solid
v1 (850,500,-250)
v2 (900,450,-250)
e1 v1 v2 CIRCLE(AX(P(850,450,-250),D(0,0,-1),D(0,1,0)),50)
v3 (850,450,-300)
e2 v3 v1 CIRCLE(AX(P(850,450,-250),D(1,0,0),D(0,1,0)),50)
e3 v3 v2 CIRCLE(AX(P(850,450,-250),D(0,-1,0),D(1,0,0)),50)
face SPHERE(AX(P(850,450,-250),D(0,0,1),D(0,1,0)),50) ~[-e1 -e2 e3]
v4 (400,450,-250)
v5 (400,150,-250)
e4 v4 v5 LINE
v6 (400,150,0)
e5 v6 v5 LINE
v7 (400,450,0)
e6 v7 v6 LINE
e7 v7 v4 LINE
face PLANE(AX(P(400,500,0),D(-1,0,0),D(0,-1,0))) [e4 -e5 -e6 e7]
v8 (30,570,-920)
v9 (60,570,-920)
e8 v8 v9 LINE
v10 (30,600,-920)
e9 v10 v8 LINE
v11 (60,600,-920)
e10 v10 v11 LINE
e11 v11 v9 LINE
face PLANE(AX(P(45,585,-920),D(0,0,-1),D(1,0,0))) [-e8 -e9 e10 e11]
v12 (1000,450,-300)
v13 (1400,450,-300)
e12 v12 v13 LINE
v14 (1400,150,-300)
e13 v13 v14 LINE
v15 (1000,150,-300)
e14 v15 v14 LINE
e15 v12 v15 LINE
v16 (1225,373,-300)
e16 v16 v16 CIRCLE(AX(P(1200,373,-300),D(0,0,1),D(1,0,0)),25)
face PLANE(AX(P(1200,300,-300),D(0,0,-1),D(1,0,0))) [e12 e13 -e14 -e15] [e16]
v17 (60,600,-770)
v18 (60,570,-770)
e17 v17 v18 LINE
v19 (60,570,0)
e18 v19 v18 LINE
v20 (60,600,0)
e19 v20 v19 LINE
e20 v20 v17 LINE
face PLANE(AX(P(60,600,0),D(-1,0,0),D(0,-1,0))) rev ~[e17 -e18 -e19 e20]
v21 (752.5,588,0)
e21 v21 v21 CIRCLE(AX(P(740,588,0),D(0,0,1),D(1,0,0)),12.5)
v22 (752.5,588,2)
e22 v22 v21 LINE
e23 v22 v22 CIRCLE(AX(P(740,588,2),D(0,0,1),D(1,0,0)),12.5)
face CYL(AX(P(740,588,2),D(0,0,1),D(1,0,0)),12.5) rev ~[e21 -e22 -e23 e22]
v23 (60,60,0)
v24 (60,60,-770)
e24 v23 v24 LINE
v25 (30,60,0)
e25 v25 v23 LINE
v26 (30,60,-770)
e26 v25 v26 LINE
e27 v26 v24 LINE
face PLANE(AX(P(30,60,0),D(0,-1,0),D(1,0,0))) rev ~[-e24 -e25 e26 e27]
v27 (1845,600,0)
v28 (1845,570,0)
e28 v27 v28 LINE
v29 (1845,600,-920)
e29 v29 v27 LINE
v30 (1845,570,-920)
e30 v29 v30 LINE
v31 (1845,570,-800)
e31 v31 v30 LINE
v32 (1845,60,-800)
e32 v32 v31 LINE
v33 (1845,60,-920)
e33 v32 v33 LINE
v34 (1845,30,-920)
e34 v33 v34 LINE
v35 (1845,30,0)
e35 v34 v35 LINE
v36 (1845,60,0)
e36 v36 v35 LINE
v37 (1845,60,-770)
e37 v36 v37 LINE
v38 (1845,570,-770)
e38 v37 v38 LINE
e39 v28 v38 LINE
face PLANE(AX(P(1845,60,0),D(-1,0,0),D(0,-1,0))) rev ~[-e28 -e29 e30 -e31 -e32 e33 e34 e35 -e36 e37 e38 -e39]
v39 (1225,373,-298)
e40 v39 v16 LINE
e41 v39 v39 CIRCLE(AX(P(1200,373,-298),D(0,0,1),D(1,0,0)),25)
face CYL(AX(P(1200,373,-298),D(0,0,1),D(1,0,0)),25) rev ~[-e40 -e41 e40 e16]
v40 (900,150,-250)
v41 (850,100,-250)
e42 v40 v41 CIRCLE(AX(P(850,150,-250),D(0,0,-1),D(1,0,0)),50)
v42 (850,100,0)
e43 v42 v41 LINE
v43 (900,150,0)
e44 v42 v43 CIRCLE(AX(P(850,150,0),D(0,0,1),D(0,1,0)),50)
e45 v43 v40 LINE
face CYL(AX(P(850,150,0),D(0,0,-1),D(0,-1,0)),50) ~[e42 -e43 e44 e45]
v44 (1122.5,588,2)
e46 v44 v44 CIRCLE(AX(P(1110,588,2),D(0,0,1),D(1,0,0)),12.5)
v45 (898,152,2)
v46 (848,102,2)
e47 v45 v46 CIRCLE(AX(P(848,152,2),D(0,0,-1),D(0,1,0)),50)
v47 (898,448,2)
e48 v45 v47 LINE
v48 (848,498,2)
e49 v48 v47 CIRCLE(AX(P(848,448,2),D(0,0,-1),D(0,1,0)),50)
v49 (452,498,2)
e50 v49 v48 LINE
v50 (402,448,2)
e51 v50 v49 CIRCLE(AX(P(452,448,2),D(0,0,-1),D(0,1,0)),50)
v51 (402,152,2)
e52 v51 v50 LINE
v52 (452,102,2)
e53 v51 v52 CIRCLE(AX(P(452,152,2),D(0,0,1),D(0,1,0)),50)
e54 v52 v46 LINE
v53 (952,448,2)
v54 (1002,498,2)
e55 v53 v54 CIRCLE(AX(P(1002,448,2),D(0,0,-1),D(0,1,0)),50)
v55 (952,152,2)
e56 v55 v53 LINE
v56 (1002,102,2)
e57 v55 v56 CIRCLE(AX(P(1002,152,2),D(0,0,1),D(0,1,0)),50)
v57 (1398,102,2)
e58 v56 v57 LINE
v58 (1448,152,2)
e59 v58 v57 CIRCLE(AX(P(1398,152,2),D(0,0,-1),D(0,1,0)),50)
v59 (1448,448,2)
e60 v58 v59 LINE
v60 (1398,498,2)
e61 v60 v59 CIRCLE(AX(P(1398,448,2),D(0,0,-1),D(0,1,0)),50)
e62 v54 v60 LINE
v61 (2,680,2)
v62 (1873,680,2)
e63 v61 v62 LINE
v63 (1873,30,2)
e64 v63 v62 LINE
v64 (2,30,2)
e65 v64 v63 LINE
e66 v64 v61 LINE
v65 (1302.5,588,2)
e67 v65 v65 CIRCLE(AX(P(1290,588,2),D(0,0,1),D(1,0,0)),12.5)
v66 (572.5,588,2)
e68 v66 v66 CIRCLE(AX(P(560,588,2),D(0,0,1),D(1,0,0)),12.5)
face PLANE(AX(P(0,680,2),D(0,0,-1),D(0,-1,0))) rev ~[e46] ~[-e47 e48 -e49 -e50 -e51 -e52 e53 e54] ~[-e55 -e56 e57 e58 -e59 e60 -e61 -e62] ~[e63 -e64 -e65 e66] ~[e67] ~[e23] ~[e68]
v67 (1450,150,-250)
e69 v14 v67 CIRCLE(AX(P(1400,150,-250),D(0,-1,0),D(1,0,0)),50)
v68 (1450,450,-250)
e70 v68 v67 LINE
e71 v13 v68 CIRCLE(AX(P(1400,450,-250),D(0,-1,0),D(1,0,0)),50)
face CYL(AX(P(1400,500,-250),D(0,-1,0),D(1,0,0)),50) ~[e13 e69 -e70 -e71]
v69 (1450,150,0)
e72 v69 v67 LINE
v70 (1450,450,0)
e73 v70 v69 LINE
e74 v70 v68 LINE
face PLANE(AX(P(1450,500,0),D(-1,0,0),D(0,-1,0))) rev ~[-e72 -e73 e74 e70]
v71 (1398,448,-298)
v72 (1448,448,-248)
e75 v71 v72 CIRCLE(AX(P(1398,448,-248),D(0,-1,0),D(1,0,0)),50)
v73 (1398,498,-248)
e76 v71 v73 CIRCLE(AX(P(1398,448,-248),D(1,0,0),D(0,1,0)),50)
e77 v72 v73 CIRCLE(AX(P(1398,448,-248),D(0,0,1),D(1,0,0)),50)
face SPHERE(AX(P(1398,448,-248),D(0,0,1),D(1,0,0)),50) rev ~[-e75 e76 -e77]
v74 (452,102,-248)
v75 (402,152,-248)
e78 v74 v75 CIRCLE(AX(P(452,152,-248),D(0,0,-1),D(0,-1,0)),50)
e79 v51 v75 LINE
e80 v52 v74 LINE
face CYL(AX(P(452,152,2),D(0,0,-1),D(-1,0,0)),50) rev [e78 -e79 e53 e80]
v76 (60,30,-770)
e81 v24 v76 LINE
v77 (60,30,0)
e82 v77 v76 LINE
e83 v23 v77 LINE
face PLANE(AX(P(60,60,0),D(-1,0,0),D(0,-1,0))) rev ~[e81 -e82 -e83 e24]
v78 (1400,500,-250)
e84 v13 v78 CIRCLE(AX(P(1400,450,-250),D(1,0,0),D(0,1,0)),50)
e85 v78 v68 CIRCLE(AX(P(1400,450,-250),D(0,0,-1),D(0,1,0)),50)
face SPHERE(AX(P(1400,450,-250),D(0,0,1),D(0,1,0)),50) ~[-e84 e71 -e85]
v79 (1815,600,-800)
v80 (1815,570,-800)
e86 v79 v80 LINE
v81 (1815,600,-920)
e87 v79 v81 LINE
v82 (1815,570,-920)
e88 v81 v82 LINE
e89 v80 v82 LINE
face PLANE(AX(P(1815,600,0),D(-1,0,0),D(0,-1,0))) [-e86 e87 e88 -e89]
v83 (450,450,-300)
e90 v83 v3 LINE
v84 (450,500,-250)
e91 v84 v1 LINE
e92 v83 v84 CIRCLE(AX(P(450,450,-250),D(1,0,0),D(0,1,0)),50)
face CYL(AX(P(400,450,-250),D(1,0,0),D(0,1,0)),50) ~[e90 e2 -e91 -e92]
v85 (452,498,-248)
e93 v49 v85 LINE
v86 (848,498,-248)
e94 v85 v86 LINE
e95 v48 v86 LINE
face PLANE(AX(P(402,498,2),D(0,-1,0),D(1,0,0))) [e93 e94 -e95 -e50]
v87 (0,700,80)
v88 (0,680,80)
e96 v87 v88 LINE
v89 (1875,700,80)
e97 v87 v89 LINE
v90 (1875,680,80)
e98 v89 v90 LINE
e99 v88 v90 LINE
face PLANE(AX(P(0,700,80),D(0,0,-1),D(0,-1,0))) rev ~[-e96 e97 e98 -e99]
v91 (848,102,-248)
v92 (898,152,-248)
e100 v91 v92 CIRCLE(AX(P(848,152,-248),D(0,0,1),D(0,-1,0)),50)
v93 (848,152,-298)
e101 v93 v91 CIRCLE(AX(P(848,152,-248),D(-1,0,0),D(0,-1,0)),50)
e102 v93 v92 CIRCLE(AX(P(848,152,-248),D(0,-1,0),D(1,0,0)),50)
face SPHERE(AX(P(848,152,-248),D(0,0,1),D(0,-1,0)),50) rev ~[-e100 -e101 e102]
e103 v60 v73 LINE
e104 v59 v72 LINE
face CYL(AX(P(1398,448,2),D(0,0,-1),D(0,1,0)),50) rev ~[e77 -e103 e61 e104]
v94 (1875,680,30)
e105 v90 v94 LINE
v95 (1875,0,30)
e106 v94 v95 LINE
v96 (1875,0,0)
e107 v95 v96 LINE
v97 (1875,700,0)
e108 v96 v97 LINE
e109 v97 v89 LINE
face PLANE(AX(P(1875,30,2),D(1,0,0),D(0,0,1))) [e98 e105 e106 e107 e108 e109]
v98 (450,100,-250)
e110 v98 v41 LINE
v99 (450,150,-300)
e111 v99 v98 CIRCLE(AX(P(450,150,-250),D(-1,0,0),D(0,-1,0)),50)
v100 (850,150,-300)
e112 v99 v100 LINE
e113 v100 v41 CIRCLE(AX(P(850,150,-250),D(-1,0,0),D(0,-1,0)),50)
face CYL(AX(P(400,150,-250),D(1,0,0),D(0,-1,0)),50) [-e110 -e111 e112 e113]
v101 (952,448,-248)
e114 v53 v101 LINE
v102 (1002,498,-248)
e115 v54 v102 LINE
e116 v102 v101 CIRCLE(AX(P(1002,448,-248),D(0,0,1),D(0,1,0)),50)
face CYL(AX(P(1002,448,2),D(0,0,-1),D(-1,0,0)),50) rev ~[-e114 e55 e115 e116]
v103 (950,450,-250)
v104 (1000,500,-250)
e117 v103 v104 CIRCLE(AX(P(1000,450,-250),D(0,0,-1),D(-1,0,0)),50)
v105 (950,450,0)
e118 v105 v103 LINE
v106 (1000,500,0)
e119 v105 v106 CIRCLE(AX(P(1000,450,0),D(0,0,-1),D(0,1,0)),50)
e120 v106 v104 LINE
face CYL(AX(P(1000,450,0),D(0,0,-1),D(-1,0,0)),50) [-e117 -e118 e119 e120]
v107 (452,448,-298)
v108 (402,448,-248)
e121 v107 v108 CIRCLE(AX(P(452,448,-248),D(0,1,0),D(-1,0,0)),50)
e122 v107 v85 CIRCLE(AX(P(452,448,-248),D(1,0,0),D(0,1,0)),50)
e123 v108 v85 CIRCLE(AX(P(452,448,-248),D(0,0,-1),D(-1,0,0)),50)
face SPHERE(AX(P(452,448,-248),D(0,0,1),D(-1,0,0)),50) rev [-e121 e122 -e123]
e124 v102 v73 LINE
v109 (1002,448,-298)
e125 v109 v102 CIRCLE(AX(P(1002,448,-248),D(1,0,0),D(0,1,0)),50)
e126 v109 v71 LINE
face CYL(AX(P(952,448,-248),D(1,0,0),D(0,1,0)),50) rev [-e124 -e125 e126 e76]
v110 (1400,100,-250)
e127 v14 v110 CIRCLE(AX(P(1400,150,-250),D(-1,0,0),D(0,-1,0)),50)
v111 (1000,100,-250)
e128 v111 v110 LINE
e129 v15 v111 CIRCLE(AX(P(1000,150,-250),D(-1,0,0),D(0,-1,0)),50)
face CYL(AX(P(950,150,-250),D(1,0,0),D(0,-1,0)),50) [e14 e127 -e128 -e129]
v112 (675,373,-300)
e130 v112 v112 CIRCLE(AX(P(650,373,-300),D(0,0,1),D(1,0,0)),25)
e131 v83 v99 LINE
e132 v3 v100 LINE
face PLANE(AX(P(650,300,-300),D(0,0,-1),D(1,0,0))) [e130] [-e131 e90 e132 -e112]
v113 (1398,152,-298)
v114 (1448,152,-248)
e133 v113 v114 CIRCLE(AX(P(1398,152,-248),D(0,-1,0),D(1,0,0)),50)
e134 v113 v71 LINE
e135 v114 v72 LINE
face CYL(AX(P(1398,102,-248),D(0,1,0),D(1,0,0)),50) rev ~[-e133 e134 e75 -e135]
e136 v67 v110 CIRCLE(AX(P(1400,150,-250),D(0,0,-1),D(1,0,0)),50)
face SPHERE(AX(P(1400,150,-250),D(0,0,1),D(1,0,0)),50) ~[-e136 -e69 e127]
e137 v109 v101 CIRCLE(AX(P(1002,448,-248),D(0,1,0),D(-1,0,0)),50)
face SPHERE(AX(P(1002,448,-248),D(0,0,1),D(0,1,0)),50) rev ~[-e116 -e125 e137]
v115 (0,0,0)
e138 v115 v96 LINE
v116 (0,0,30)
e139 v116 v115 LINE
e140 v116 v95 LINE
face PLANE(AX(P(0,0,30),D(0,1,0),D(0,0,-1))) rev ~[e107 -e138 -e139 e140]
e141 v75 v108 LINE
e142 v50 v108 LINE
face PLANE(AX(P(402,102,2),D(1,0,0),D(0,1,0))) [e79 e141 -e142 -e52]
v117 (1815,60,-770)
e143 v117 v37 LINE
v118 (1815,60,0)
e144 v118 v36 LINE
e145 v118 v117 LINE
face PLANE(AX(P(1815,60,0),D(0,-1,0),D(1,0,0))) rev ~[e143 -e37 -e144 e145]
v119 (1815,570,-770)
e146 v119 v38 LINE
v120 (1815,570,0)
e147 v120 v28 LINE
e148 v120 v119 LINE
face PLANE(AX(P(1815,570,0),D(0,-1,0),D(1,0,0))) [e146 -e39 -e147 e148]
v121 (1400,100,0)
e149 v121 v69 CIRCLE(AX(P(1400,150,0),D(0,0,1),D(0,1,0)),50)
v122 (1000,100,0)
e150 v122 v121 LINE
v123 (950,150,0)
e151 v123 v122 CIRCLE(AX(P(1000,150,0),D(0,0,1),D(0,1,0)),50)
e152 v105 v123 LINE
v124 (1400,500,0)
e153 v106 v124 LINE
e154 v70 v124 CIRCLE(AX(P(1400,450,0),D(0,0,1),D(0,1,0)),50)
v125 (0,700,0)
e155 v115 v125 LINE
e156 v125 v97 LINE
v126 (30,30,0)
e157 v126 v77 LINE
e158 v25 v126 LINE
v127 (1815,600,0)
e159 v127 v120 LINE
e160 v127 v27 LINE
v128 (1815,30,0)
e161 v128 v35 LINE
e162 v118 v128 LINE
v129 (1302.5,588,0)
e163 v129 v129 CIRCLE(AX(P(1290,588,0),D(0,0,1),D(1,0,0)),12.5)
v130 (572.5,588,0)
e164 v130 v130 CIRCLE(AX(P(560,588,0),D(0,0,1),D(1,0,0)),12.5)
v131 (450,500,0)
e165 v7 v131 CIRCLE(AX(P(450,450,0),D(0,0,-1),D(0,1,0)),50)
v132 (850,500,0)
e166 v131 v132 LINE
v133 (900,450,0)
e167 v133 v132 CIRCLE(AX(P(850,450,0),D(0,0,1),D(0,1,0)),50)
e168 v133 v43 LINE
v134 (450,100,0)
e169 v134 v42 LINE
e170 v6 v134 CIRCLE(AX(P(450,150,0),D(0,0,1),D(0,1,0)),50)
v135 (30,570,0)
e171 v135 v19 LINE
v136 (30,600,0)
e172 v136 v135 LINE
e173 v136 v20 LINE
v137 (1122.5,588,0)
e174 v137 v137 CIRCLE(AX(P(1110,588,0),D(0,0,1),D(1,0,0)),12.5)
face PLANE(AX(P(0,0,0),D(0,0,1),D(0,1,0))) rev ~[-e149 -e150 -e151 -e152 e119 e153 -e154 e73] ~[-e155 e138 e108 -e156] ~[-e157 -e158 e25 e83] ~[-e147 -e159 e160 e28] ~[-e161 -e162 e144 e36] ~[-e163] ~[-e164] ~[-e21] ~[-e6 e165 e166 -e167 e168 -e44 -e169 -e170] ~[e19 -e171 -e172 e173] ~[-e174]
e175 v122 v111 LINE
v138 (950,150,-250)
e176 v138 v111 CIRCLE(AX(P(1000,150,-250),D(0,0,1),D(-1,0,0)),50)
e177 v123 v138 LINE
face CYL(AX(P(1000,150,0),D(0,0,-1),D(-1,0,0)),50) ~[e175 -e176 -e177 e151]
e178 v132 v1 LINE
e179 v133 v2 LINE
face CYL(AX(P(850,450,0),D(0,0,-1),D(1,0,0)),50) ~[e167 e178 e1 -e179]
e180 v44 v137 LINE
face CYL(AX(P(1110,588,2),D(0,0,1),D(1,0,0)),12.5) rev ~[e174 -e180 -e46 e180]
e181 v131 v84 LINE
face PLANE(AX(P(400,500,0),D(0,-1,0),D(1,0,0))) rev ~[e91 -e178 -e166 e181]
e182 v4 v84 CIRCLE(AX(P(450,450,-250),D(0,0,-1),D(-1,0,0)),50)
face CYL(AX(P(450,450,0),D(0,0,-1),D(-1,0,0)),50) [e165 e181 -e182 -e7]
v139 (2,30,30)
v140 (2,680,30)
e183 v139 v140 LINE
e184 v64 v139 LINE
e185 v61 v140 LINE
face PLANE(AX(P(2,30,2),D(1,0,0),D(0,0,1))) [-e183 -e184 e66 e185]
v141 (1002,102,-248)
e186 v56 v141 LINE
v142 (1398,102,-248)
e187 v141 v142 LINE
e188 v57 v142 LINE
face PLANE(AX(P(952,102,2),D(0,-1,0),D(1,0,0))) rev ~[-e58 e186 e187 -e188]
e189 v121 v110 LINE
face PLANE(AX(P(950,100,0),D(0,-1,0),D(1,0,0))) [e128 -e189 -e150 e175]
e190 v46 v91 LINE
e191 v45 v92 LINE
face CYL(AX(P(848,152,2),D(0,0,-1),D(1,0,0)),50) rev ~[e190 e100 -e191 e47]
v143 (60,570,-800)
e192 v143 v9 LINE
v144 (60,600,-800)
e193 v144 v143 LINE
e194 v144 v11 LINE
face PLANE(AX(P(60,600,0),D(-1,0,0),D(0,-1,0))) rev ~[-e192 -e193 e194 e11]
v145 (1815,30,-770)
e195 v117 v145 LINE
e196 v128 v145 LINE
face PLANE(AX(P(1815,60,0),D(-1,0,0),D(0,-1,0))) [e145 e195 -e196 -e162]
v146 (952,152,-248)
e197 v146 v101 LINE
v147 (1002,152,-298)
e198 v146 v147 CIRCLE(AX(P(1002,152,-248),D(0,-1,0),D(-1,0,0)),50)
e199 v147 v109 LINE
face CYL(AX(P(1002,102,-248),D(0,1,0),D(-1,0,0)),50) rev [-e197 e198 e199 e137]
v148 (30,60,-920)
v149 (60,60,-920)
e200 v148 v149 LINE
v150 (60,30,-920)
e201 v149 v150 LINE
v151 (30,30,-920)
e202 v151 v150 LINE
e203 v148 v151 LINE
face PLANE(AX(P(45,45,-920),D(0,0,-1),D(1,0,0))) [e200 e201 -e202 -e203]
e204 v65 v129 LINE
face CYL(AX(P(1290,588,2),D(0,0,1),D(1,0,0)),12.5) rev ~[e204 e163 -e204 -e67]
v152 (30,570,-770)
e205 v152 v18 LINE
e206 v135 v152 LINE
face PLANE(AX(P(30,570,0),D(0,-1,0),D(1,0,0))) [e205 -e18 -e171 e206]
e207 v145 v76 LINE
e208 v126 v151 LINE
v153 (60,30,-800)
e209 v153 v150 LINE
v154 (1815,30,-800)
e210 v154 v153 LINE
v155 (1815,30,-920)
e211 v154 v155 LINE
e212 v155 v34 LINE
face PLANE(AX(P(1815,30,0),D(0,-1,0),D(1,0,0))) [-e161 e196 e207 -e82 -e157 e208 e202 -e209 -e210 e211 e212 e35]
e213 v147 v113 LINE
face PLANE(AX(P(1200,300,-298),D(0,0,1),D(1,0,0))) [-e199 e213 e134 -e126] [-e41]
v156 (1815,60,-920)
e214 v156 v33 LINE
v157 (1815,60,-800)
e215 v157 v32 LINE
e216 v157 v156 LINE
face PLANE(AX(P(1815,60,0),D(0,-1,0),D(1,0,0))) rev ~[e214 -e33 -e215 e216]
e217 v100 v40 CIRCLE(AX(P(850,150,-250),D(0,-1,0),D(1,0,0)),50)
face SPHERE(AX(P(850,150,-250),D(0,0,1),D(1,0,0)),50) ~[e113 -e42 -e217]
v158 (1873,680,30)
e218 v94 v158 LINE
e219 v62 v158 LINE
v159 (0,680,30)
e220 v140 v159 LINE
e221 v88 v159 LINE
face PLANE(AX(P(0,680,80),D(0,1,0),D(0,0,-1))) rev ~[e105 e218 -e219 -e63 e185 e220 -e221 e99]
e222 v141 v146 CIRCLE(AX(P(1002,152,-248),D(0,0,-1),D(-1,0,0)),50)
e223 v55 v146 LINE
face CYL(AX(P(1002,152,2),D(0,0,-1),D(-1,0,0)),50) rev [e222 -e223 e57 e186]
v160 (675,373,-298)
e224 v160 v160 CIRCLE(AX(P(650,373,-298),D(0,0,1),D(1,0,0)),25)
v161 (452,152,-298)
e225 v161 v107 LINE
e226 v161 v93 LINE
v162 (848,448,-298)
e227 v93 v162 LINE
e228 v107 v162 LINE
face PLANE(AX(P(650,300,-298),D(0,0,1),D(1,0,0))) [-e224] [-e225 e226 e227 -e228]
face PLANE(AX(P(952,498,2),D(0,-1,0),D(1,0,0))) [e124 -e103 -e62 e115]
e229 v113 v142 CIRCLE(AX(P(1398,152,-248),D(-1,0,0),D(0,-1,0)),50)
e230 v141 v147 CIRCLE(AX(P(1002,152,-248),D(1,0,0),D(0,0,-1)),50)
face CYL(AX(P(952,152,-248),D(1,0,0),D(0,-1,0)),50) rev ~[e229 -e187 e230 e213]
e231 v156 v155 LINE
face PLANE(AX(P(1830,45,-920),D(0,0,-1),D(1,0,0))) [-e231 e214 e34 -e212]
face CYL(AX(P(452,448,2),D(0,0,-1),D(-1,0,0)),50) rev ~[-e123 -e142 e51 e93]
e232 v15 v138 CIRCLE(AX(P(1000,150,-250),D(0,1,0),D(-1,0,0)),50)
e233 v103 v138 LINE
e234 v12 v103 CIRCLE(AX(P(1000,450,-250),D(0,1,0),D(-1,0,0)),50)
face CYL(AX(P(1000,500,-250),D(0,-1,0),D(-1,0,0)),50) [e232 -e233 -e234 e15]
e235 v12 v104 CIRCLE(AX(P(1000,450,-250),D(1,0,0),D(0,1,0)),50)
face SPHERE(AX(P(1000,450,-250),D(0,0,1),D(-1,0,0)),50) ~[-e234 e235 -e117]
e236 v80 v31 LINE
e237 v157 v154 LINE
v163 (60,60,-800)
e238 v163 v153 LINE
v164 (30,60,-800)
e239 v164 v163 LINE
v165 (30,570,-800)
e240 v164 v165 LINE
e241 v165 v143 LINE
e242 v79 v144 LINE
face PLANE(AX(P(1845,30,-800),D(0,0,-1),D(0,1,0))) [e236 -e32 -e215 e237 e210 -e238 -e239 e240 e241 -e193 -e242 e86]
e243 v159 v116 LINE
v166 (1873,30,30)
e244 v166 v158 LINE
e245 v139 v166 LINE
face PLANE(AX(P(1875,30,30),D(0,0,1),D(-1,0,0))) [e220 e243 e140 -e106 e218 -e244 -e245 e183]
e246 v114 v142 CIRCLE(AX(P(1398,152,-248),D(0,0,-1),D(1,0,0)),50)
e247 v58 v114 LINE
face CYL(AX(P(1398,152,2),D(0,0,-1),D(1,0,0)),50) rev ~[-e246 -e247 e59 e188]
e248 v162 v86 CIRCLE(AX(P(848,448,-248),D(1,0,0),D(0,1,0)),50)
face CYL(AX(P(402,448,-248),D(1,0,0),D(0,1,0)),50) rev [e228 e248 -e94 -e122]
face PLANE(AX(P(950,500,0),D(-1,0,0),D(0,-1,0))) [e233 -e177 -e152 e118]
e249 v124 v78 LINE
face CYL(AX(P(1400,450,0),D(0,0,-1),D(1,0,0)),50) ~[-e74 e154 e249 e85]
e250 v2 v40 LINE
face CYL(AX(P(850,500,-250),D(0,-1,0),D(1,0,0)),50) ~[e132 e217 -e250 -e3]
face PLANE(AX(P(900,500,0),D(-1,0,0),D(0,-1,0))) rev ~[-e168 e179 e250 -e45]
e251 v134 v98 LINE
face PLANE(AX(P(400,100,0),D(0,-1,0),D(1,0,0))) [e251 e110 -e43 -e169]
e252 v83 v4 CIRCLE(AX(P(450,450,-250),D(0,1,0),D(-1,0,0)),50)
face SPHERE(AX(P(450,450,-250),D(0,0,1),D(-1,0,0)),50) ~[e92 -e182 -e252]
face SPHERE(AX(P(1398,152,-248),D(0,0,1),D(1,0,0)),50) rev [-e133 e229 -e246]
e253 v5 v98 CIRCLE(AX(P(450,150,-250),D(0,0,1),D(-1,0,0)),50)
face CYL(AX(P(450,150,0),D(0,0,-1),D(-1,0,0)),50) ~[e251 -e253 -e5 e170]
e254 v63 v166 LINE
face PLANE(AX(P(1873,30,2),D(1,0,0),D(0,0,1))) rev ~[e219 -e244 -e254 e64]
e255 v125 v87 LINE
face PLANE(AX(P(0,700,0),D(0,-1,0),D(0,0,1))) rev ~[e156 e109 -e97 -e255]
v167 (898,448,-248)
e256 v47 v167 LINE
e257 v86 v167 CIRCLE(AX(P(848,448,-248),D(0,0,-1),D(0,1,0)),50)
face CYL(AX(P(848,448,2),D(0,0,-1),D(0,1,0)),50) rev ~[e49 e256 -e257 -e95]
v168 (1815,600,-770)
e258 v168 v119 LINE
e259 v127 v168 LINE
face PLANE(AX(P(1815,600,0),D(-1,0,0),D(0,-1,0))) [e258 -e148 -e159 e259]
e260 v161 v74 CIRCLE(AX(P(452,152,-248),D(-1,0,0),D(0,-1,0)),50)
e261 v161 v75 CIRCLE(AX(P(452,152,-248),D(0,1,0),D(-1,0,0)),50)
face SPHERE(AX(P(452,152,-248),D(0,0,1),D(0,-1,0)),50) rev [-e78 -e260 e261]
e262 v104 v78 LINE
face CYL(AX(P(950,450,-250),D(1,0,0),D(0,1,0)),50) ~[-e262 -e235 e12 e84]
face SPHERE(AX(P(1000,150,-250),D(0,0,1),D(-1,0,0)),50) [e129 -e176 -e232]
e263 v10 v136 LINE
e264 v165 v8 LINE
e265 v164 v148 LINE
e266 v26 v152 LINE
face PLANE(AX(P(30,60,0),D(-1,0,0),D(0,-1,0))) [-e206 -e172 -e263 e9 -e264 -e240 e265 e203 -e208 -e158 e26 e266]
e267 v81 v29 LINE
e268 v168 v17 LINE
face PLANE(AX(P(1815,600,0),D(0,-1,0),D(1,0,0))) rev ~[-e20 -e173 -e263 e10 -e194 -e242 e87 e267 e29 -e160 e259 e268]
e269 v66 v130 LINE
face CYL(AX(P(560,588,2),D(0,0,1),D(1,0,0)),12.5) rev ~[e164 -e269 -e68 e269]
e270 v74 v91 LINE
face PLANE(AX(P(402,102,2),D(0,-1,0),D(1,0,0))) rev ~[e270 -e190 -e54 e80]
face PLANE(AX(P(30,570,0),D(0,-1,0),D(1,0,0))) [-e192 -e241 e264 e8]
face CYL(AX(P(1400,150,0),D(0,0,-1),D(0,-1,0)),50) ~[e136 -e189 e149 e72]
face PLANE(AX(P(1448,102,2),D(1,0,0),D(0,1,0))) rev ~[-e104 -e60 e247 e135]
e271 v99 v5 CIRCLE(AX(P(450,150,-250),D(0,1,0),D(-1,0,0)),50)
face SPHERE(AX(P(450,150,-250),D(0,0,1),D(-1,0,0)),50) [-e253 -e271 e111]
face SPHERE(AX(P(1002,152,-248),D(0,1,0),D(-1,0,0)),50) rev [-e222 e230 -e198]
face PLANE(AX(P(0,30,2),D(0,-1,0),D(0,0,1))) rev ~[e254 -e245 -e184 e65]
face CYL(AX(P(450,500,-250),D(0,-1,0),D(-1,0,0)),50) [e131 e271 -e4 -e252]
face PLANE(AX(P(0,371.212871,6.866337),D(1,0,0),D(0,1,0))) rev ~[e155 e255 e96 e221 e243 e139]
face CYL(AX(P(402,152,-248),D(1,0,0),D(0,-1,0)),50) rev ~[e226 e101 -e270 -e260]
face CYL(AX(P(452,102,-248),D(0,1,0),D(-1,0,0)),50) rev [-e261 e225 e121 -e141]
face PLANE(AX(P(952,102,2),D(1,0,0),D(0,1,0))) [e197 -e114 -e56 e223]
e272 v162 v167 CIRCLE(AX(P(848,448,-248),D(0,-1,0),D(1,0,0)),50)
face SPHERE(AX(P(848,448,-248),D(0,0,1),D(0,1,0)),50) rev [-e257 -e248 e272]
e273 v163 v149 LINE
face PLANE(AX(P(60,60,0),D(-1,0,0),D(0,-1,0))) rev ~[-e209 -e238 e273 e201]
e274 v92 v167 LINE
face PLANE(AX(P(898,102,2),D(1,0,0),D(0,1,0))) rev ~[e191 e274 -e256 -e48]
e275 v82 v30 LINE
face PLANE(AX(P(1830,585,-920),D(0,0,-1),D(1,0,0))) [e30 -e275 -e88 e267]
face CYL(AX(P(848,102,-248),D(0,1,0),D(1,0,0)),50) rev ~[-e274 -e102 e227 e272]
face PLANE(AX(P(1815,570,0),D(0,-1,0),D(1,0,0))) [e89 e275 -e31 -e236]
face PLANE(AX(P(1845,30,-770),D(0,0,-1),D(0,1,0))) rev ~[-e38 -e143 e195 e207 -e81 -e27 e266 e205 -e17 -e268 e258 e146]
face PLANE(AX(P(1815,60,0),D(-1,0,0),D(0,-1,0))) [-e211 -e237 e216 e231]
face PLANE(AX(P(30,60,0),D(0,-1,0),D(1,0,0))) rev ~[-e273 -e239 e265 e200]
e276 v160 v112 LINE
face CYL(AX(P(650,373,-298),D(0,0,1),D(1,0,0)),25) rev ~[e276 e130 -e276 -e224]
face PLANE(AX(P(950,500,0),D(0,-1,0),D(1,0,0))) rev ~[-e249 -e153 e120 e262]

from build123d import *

# Parameters (mm, degrees)
F1_DEPTH  = 1875
F2_W      = 2
F2_H      = 28
F3_DEPTH  = 650
F4_W      = 500
F4_H      = 400
F5_DEPTH  = 300
F6_W      = 496
F6_H      = 396
F7_DEPTH  = 300
F8_R      = 50
F9_R      = 50
F10_R     = 25
F11_DEPTH = 2
F12_R     = 12.5
F13_DEPTH = 2
F14_W     = 30
F14_H     = 30
F15_DEPTH = 920
F16_W     = 570
F16_H     = 30
F17_DEPTH = 1815


with BuildPart() as f1:
    # F0 (on Right) → F1 (new body)
    with BuildSketch(Plane.YZ):
        Polygon((0, 30), (0, 0), (700, 0), (700, 80), (680, 80), (680, 2), (30, 2), (30, 30), align=None)
    extrude(amount=F1_DEPTH)

    # F2 (on face) → F3 (join, through all)
    with BuildSketch(Plane(origin=(0, 30, 0), x_dir=(-1, 0, 0), z_dir=(0, 1, 0))):
        with Locations((-1874, 16)):
            Rectangle(F2_W, F2_H)
        with Locations((-1, 16)):
            Rectangle(F2_W, F2_H)
    extrude(amount=F3_DEPTH)

    # F4 (on face) → F5 (join)
    with BuildSketch(Plane(origin=(0, 0, 0), x_dir=(1, 0, 0), z_dir=(0, 0, -1))):
        with Locations((650, -300)):
            Rectangle(F4_W, F4_H)
        with Locations((1200, -300)):
            Rectangle(F4_W, F4_H)
    extrude(amount=F5_DEPTH)

    # F6 (on face) → F7 (cut)
    with BuildSketch(Plane.XY.offset(2)):
        with Locations((650, 300)):
            Rectangle(F6_W, F6_H)
        with Locations((1200, 300)):
            Rectangle(F6_W, F6_H)
    extrude(amount=-F7_DEPTH, mode=Mode.SUBTRACT)

    # F8
    f8_edges = [f1.edges().sort_by_distance(p)[0] for p in [
        (402, 102, -148),
        (402, 498, -148),
        (952, 498, -148),
        (1448, 498, -148),
        (898, 498, -148),
        (898, 102, -148),
        (1448, 102, -148),
        (1448, 300, -298),
        (1200, 498, -298),
        (952, 300, -298),
        (952, 102, -148),
        (1200, 102, -298),
        (650, 102, -298),
        (402, 300, -298),
        (650, 498, -298),
        (898, 300, -298),
    ]]
    fillet(f8_edges, radius=F8_R)

    # F9
    f9_edges = [f1.edges().sort_by_distance(p)[0] for p in [
        (400, 100, -150),
        (900, 100, -150),
        (950, 100, -150),
        (1450, 100, -150),
        (1450, 500, -150),
        (950, 500, -150),
        (900, 500, -150),
        (400, 500, -150),
        (400, 300, -300),
        (650, 500, -300),
        (900, 300, -300),
        (650, 100, -300),
        (950, 300, -300),
        (1200, 500, -300),
        (1450, 300, -300),
        (1200, 100, -300),
    ]]
    fillet(f9_edges, radius=F9_R)

    # F10 (on face) → F11 (cut, through all)
    with BuildSketch(Plane.XY.offset(-298)):
        with Locations((650, 373)):
            Circle(F10_R)
        with Locations((1200, 373)):
            Circle(F10_R)
    extrude(amount=-F11_DEPTH, mode=Mode.SUBTRACT)

    # F12 (on face) → F13 (cut, through all)
    with BuildSketch(Plane.XY.offset(2)):
        with Locations((560, 588)):
            Circle(F12_R)
        with Locations((740, 588)):
            Circle(F12_R)
        with Locations((1110, 588)):
            Circle(F12_R)
        with Locations((1290, 588)):
            Circle(F12_R)
    extrude(amount=-F13_DEPTH, mode=Mode.SUBTRACT)

    # F14 (on face) → F15 (join)
    with BuildSketch(Plane(origin=(0, 0, 0), x_dir=(1, 0, 0), z_dir=(0, 0, -1))):
        with Locations((45, -45)):
            Rectangle(F14_W, F14_H)
        with Locations((1830, -45)):
            Rectangle(F14_W, F14_H)
        with Locations((1830, -585)):
            Rectangle(F14_W, F14_H)
        with Locations((45, -585)):
            Rectangle(F14_W, F14_H)
    extrude(amount=F15_DEPTH)

    # F16 (on face) → F17 (join, through all)
    with BuildSketch(Plane.YZ.offset(1845)):
        with Locations((315, -785)):
            Rectangle(F16_W, F16_H)
    extrude(amount=-F17_DEPTH)


solid = f1.part
